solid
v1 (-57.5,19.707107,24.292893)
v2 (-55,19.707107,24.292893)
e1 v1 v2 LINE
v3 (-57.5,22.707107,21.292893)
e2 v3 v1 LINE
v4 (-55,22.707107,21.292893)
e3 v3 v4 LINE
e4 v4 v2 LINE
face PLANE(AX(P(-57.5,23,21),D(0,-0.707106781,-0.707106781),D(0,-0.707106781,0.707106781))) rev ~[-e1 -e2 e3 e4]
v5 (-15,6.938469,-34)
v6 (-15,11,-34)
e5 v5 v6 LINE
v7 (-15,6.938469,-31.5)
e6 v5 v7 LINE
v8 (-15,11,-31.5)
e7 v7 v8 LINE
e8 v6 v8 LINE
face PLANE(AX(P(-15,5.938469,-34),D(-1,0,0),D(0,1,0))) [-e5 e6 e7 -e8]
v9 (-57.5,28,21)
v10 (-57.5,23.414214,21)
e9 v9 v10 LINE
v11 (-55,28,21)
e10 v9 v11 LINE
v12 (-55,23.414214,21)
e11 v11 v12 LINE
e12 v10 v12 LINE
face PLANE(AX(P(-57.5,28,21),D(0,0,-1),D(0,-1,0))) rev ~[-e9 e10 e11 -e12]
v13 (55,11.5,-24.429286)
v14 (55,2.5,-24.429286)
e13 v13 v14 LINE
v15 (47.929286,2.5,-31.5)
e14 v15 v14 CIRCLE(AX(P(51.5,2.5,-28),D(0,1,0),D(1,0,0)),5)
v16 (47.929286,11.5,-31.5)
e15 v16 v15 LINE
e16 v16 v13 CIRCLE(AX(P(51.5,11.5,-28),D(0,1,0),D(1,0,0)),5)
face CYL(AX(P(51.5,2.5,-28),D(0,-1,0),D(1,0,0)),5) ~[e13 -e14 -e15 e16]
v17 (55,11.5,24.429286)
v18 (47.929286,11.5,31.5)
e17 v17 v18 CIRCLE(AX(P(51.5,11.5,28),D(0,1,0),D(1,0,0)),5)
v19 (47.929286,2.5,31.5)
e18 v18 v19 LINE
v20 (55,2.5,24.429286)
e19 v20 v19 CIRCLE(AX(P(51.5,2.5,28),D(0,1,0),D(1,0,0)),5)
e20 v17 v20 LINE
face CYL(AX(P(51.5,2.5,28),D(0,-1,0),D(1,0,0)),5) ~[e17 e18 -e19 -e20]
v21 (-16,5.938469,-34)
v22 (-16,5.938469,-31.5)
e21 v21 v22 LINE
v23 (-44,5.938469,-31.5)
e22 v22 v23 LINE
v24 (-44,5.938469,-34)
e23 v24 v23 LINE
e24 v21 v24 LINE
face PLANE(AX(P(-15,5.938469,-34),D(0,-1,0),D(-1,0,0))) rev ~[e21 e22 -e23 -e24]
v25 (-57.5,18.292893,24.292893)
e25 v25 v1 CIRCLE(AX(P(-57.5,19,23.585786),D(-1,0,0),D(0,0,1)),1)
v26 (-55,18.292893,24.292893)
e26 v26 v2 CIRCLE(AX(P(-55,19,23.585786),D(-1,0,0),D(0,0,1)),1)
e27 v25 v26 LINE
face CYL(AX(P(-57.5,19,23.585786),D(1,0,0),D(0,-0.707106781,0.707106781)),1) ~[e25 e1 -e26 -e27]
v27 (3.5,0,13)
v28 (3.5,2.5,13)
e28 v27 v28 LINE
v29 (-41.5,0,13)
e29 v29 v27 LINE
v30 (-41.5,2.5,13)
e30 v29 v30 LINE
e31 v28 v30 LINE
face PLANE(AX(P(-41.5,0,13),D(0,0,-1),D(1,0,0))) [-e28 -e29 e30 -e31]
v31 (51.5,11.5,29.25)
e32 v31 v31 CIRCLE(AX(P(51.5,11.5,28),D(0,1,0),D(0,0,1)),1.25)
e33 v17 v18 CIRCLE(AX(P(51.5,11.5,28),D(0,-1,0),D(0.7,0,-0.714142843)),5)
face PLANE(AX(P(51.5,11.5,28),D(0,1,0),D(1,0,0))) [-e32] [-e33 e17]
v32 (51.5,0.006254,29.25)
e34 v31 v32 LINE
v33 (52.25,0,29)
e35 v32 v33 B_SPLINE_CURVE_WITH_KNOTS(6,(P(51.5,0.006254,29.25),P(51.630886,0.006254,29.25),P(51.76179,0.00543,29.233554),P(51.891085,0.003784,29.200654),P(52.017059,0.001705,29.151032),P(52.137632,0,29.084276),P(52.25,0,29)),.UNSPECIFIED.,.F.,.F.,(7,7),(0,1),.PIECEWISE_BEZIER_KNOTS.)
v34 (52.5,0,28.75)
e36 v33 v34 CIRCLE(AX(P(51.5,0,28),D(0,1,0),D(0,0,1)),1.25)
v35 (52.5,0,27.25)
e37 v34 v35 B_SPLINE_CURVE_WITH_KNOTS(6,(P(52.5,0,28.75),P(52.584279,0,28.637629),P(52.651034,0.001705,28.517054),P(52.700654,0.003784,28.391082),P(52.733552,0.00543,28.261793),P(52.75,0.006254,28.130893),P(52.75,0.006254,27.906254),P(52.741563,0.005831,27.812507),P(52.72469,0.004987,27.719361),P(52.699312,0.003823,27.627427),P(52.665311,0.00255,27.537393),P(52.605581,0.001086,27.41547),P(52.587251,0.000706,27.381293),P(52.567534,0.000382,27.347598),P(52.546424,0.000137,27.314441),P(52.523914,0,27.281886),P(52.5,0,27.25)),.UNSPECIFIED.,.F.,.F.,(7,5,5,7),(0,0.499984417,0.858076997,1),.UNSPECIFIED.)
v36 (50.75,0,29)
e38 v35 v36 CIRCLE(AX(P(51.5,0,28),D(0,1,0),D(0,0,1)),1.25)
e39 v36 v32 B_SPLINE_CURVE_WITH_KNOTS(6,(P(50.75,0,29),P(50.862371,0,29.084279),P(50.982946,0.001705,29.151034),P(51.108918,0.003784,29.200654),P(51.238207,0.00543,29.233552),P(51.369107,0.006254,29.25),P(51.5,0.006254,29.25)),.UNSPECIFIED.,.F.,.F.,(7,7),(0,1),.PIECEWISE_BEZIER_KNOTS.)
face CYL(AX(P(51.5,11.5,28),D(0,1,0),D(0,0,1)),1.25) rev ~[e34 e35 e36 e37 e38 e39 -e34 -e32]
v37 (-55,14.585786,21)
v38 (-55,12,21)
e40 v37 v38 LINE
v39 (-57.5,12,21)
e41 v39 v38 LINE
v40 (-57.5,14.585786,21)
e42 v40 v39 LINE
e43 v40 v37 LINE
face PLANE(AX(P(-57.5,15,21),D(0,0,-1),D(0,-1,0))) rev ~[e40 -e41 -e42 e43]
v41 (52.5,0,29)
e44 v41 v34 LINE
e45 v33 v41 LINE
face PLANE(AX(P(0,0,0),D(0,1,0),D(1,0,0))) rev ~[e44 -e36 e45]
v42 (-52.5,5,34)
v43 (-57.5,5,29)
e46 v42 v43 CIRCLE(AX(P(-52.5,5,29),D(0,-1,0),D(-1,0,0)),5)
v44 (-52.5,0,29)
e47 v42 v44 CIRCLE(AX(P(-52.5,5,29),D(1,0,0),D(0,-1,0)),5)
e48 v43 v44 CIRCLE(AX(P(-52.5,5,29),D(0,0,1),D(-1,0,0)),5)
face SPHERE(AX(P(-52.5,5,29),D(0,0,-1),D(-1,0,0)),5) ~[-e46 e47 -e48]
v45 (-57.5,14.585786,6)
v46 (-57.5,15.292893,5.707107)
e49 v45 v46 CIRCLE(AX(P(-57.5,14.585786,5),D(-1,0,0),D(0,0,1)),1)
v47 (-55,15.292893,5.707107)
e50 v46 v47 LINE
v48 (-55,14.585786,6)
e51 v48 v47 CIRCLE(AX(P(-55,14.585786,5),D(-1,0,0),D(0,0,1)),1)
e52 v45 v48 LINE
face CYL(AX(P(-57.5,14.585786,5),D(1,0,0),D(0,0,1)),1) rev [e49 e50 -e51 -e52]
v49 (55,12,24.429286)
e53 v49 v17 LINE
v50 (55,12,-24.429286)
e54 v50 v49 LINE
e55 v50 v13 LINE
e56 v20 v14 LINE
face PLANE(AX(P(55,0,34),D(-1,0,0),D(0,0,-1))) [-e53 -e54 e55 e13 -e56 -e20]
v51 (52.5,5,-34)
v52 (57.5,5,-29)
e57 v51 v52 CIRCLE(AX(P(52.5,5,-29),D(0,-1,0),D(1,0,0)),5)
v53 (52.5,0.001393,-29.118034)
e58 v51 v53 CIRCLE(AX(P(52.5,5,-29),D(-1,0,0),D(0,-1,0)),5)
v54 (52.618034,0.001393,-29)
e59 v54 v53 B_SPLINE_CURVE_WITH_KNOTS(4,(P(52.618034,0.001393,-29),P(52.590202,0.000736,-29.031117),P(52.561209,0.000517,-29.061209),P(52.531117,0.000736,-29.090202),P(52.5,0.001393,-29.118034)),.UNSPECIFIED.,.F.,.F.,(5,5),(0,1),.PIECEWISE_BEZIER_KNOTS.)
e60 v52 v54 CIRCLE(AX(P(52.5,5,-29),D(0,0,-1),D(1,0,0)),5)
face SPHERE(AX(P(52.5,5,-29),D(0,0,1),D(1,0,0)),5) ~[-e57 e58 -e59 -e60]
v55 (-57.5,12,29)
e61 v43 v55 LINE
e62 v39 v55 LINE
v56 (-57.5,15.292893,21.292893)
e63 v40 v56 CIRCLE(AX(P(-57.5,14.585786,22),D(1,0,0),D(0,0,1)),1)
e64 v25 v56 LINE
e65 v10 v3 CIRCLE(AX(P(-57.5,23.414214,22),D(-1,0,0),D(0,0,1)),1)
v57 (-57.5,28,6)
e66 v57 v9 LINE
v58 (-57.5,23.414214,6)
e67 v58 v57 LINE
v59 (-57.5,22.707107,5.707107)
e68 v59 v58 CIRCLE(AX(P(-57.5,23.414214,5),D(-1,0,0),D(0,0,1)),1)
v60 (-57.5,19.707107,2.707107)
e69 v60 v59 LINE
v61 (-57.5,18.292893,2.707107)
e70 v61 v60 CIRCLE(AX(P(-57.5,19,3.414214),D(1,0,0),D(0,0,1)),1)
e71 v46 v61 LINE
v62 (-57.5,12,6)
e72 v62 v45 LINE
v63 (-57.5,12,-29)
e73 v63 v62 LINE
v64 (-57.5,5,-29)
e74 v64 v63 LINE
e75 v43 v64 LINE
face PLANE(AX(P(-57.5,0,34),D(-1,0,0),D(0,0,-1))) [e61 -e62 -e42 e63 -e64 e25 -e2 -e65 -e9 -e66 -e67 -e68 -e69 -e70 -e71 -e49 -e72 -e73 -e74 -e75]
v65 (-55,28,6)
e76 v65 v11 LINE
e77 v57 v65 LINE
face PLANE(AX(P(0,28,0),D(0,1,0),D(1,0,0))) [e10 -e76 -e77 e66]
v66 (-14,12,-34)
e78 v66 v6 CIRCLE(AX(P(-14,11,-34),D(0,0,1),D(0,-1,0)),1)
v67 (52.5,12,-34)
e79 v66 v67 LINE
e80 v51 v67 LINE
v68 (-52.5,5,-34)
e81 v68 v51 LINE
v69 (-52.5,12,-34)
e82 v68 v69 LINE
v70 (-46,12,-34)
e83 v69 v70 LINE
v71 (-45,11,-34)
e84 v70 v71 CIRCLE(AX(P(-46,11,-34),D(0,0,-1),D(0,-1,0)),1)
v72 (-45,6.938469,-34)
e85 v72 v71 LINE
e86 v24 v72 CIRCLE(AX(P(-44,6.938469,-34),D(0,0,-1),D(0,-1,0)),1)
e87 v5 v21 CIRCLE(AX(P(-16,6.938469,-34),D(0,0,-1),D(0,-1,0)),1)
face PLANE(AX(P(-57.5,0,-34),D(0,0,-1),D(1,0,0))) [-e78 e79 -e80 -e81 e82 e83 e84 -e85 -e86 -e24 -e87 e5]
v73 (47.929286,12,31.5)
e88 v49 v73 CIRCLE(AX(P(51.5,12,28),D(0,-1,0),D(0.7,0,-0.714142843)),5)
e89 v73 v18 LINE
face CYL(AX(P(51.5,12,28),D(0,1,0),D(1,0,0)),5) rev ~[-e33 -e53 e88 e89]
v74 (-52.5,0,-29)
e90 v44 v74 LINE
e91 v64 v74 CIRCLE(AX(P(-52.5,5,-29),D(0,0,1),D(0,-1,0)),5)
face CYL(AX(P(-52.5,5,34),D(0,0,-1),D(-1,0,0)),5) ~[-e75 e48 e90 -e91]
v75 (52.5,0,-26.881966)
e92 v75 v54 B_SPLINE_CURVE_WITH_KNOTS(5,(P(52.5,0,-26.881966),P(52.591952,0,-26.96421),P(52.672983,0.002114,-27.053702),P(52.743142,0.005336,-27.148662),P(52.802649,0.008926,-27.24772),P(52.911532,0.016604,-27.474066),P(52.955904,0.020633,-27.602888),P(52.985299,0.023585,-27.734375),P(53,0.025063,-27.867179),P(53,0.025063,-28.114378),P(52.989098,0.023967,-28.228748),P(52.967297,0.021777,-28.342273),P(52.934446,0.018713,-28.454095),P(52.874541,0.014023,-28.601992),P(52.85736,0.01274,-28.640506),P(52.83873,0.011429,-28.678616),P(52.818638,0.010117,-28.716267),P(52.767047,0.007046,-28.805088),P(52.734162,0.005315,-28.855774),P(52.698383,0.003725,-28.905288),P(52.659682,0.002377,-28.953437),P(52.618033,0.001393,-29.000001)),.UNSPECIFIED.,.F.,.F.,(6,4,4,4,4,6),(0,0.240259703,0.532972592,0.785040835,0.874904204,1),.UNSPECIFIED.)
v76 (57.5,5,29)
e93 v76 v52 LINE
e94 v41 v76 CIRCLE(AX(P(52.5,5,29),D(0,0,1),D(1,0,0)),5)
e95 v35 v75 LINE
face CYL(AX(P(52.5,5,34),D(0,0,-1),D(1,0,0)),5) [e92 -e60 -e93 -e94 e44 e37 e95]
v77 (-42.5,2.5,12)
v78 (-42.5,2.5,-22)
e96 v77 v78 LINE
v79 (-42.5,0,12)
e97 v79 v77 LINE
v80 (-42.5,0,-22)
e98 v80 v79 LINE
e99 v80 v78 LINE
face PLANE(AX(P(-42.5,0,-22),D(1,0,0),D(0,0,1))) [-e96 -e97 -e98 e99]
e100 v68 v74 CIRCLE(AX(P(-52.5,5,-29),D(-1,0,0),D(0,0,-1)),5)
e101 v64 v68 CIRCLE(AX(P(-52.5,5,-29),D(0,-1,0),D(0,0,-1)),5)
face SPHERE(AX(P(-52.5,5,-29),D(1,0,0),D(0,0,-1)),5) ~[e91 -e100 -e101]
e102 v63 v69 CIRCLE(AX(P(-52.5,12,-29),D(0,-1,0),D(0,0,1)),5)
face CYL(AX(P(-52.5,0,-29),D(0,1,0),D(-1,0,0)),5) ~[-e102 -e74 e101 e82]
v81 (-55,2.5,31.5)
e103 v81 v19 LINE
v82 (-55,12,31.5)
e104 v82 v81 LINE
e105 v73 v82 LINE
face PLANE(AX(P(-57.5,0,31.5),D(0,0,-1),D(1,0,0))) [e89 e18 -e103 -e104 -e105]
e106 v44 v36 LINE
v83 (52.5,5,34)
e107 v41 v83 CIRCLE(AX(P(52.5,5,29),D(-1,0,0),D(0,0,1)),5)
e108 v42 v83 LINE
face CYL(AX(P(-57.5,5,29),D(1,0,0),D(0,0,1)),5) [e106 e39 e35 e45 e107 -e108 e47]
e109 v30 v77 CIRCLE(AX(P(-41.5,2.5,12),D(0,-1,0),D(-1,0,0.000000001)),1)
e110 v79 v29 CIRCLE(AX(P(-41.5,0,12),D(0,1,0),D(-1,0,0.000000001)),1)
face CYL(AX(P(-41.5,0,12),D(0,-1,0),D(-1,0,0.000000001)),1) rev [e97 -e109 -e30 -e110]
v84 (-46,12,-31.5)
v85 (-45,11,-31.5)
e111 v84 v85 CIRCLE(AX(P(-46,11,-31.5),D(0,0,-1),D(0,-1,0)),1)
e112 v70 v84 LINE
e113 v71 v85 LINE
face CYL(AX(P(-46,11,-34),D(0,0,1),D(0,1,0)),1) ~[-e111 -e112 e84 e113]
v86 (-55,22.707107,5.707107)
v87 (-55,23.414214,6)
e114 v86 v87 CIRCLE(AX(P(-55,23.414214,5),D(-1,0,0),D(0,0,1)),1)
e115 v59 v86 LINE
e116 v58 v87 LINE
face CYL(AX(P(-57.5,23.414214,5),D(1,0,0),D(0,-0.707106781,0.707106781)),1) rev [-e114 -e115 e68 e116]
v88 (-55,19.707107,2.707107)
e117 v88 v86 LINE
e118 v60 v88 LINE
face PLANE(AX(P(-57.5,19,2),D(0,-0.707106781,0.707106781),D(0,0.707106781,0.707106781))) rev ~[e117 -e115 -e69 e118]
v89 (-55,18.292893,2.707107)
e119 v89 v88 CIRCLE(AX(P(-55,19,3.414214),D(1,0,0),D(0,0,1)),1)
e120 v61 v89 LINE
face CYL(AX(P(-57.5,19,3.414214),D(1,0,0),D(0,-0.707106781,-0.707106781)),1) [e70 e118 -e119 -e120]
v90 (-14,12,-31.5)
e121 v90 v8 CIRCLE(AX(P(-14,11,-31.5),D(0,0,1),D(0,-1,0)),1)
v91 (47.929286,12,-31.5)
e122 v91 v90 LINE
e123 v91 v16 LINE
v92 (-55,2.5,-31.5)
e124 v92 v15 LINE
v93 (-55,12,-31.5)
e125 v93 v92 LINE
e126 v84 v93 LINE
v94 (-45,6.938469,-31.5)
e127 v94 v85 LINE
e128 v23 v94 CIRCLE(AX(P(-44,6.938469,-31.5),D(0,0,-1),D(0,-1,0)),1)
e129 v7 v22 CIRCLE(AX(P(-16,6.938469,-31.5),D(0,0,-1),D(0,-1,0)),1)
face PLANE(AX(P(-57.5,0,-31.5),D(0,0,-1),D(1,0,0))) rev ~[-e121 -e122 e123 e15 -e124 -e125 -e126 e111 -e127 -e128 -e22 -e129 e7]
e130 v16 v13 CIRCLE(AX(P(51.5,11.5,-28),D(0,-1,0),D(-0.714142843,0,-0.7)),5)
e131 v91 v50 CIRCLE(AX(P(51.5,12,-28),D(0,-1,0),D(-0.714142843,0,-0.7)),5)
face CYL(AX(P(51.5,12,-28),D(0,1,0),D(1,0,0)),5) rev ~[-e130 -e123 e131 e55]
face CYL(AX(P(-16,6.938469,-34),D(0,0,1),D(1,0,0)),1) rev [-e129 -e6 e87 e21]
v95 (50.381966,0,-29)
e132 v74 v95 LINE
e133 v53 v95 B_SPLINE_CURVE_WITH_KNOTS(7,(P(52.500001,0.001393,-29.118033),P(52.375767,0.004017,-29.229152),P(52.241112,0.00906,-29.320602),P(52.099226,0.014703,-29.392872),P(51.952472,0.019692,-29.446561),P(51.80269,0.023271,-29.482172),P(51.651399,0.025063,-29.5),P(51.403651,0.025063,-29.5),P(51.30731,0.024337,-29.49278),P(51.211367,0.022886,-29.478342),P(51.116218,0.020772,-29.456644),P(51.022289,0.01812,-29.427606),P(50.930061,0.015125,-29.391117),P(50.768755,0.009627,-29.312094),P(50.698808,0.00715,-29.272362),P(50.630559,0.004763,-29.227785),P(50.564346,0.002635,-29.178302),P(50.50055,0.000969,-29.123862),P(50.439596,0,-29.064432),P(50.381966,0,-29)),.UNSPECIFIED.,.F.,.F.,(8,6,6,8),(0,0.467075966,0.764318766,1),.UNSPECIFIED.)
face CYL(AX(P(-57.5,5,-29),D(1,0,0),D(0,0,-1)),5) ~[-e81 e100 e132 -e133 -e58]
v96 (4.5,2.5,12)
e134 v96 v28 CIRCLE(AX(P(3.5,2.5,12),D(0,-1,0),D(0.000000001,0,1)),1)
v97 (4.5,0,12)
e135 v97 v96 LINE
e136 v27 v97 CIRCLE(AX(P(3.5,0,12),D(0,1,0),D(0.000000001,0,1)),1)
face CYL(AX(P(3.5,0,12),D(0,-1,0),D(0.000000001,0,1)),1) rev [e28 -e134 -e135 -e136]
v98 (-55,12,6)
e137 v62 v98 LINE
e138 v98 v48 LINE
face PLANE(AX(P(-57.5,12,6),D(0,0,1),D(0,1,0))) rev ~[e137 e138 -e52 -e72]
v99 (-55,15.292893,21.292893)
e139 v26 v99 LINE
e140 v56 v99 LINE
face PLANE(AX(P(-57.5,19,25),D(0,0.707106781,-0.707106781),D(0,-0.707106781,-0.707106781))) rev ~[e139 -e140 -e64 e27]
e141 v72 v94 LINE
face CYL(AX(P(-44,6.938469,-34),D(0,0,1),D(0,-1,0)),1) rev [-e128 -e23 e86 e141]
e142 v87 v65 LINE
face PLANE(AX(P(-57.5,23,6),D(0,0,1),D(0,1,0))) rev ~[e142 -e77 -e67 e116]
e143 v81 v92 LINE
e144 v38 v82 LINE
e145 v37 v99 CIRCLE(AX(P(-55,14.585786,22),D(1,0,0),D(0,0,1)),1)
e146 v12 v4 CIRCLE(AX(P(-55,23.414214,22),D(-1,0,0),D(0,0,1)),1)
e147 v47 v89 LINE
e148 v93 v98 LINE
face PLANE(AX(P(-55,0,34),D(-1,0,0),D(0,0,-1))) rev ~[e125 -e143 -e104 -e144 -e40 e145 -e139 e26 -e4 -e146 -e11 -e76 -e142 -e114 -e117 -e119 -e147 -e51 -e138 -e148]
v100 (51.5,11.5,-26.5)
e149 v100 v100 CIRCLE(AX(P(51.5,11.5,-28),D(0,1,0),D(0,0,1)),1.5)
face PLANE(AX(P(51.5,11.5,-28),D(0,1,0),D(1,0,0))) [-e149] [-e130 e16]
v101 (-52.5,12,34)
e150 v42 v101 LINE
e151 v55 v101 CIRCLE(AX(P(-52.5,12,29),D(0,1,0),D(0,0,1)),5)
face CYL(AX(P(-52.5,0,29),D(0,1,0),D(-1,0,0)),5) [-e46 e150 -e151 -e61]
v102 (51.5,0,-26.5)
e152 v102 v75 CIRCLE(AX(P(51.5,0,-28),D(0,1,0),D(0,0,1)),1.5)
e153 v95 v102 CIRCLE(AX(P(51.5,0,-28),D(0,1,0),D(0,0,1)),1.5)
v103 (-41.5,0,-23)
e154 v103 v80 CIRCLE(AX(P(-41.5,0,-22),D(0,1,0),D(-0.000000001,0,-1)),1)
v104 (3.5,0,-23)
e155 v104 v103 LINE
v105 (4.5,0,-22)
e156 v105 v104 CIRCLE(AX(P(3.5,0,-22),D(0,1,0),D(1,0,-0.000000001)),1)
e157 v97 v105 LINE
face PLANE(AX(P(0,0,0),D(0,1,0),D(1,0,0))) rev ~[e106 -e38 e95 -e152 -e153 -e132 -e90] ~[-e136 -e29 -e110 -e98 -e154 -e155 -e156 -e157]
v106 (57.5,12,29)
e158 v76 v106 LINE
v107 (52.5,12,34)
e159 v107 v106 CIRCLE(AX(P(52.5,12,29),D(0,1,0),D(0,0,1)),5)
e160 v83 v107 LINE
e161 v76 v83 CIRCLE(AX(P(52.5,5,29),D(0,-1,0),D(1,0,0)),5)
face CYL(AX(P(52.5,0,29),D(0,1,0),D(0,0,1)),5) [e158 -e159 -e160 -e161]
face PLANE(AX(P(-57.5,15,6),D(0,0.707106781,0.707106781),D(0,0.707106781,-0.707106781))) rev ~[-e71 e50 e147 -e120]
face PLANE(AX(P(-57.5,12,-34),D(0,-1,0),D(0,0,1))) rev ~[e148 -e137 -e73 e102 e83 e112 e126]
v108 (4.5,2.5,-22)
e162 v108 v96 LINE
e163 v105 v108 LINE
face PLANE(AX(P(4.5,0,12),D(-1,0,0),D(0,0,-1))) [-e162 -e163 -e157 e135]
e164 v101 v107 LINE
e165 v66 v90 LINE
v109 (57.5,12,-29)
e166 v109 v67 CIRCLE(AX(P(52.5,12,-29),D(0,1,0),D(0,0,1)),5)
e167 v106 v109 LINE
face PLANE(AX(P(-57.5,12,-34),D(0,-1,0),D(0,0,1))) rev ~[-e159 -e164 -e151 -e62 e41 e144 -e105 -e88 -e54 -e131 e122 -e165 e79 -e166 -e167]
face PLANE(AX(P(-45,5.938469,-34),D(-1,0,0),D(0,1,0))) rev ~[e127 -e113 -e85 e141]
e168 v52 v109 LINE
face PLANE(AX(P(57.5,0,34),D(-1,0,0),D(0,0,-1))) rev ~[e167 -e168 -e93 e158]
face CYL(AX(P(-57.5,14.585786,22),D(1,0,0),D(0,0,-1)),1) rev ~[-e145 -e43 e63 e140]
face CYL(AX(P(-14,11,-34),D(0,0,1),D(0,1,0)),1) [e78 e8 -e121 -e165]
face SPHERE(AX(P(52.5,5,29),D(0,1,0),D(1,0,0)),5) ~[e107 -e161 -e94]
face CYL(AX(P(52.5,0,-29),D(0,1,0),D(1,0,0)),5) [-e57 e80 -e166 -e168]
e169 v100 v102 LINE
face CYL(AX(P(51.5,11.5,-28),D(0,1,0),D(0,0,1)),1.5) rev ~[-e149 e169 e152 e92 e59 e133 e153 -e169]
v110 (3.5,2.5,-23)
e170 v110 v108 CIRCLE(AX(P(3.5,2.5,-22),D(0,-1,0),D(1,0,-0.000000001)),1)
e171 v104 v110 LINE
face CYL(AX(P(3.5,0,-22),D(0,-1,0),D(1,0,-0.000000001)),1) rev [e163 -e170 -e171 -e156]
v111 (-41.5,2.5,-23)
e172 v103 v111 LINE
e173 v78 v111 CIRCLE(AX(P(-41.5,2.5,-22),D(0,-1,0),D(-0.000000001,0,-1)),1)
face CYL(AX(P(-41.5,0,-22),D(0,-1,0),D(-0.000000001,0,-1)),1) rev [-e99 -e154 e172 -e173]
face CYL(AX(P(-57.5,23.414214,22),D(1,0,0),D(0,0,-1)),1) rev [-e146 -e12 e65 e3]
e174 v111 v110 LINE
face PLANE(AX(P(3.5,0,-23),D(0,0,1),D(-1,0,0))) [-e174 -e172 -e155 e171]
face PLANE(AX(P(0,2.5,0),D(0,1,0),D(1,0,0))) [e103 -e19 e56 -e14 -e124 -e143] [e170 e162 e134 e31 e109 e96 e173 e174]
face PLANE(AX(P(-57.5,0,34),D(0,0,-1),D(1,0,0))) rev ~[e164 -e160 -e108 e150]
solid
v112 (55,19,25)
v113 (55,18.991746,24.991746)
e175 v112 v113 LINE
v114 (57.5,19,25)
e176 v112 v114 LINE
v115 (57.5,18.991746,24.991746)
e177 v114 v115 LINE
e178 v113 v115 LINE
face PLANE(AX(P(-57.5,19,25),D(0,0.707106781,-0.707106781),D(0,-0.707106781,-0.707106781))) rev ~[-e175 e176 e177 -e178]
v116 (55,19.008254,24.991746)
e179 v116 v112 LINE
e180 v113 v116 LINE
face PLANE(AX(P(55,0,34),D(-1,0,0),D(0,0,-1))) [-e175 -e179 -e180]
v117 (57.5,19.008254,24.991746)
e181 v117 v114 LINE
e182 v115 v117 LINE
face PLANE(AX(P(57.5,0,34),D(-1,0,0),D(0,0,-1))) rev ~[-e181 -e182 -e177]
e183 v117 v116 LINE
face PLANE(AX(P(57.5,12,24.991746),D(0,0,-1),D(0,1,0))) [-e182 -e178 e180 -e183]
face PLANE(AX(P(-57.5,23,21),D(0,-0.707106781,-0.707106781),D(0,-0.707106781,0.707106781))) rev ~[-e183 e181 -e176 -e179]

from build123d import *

# Parameters (mm, degrees)
SKETCH1_W           = 115
SKETCH1_H           = 68
BOSS_EXTRUDE1_DEPTH = 28
SHELL2_T            = -2.5
CUT_EXTRUDE8_DEPTH  = 124.146254511
CUT_EXTRUDE9_REACH  = 125.146
SKETCH10_W          = 26.217499217
SKETCH10_H          = 23
FILLET3_R           = 5
FILLET4_R           = 1
SKETCH11_R          = 5
BOSS_EXTRUDE3_DEPTH = 9.5
SKETCH12_R          = 5
CUT_EXTRUDE10_DEPTH = 0.5
SKETCH13_R          = 1.25
CUT_EXTRUDE11_DEPTH = 69.807703057
SKETCH15_R          = 1.5
CUT_EXTRUDE12_DEPTH = 69.80770319
CUT_EXTRUDE13_DEPTH = 73.431001776
SKETCH18_W          = 30
SKETCH18_H          = 6.061530508
CUT_EXTRUDE14_DEPTH = 2.5
FILLET5_R           = 1


with BuildPart() as part:
    # Sketch1 → Boss-Extrude1 (new body)
    with BuildSketch(Plane(origin=(0, 0, 0), x_dir=(1, 0, 0), z_dir=(0, 1, 0))):
        Rectangle(SKETCH1_W, SKETCH1_H)
    extrude(amount=BOSS_EXTRUDE1_DEPTH)

    # Shell2
    shell2_openings = [part.faces().sort_by_distance(p)[0] for p in [
        (0, 28, 0),
    ]]
    offset(amount=SHELL2_T, openings=shell2_openings, kind=Kind.INTERSECTION)

    # Sketch9 → Cut-Extrude8 (cut, through all)
    with BuildSketch(Plane.ZY.offset(57.5)):
        Polygon((-34, 12), (6, 12), (6, 15), (2, 19), (6, 23), (6, 28), (21, 28), (21, 23), (25, 19), (21, 15), (21, 12), (34, 12), (34, 34), (-34, 34), align=None)
    extrude(amount=-CUT_EXTRUDE8_DEPTH, mode=Mode.SUBTRACT)

    # Sketch10 → Cut-Extrude9 (cut, up to next)
    with BuildSketch(Plane(origin=(57.5, 0, 0), x_dir=(0, 0, -1), z_dir=(1, 0, 0)), mode=Mode.PRIVATE) as cut_extrude9_sk1:
        with Locations((-11.882996399, 23.5)):
            Rectangle(SKETCH10_W, SKETCH10_H)
    cut_extrude9_tool1 = extrude(cut_extrude9_sk1.sketch, amount=-CUT_EXTRUDE9_REACH, mode=Mode.PRIVATE) & part.part
    add(cut_extrude9_tool1.solids().sort_by_distance((57.5, 23.5, 11.882996))[0], mode=Mode.SUBTRACT)


with BuildPart() as cut_extrude9_piece_1:
    # of the separate pieces the step leaves, piece 1, a body of its own (cut_extrude9_pieces)
    add(part.part.solids().sort_by_distance((-57.5, 0, 34))[0])

    # Fillet3
    fillet3_edges = [cut_extrude9_piece_1.edges().sort_by_distance(p)[0] for p in [
        (57.5, 6, 34),
        (57.5, 0, 0),
        (57.5, 6, -34),
        (0, 0, -34),
        (-57.5, 6, -34),
        (-57.5, 0, 0),
        (-57.5, 6, 34),
        (0, 0, 34),
    ]]
    fillet(fillet3_edges, radius=FILLET3_R)

    # Fillet4
    fillet4_edges = [cut_extrude9_piece_1.edges().sort_by_distance(p)[0] for p in [
        (-56.25, 23, 21),
        (-56.25, 19, 25),
        (-56.25, 15, 21),
        (-56.25, 23, 6),
        (-56.25, 19, 2),
        (-56.25, 15, 6),
    ]]
    fillet(fillet4_edges, radius=FILLET4_R)

    # Sketch11 → Boss-Extrude3 (add)
    with BuildSketch(Plane(origin=(0, 2.5, 0), x_dir=(1, 0, 0), z_dir=(0, 1, 0))):
        with Locations((51.5, 28)):
            Circle(SKETCH11_R)
        with Locations((51.5, -28)):
            Circle(SKETCH11_R)
    extrude(amount=BOSS_EXTRUDE3_DEPTH)

    # Sketch12 → Cut-Extrude10 (cut)
    with BuildSketch(Plane(origin=(0, 12, 0), x_dir=(1, 0, 0), z_dir=(0, 1, 0))):
        with Locations((51.5, 28)):
            Circle(SKETCH12_R)
        with Locations((51.5, -28)):
            Circle(SKETCH12_R)
    extrude(amount=-CUT_EXTRUDE10_DEPTH, mode=Mode.SUBTRACT)

    # Sketch13 → Cut-Extrude11 (cut, through all)
    with BuildSketch(Plane(origin=(0, 11.5, 0), x_dir=(1, 0, 0), z_dir=(0, 1, 0))):
        with Locations(Location((51.5, -28, 0), (0, 0, 270))):
            Circle(SKETCH13_R)
    extrude(amount=-CUT_EXTRUDE11_DEPTH, mode=Mode.SUBTRACT)

    # Sketch15 → Cut-Extrude12 (cut, through all)
    with BuildSketch(Plane(origin=(0, 11.5, 0), x_dir=(1, 0, 0), z_dir=(0, 1, 0))):
        with Locations(Location((51.5, 28, 0), (0, 0, 270))):
            Circle(SKETCH15_R)
    extrude(amount=-CUT_EXTRUDE12_DEPTH, mode=Mode.SUBTRACT)

    # Sketch17 → Cut-Extrude13 (cut, through all)
    with BuildSketch(Plane.XZ):
        with BuildLine():
            Line((-41.5, 13), (3.5, 13))
            ThreePointArc((3.5, 13), (4.207106781, 12.707106781), (4.5, 12))
            Line((4.5, 12), (4.5, -22))
            ThreePointArc((4.5, -22), (4.207106781, -22.707106781), (3.5, -23))
            Line((3.5, -23), (-41.5, -23))
            ThreePointArc((-41.5, -23), (-42.207106781, -22.707106781), (-42.5, -22))
            Line((-42.5, -22), (-42.5, 12))
            ThreePointArc((-42.5, 12), (-42.207106781, 12.707106781), (-41.5, 13))
        make_face()
    extrude(amount=-CUT_EXTRUDE13_DEPTH, mode=Mode.SUBTRACT)

    # Sketch18 → Cut-Extrude14 (cut)
    with BuildSketch(Plane(origin=(0, 0, -34), x_dir=(-1, 0, 0), z_dir=(0, 0, -1))):
        with Locations((30, 8.969234746)):
            Rectangle(SKETCH18_W, SKETCH18_H)
    extrude(amount=-CUT_EXTRUDE14_DEPTH, mode=Mode.SUBTRACT)

    # Fillet5
    fillet5_edges = [cut_extrude9_piece_1.edges().sort_by_distance(p)[0] for p in [
        (-15, 5.938469492, -32.75),
        (-15, 12, -32.75),
        (-45, 12, -32.75),
        (-45, 5.938469492, -32.75),
    ]]
    fillet(fillet5_edges, radius=FILLET5_R)


with BuildPart() as cut_extrude9_piece_2:
    # of the separate pieces the step leaves, piece 2, a body of its own (cut_extrude9_pieces)
    add(part.part.solids().sort_by_distance((57.5, 19.008253993, 24.991746007))[0])


solid = Compound([cut_extrude9_piece_1.part, cut_extrude9_piece_2.part])
